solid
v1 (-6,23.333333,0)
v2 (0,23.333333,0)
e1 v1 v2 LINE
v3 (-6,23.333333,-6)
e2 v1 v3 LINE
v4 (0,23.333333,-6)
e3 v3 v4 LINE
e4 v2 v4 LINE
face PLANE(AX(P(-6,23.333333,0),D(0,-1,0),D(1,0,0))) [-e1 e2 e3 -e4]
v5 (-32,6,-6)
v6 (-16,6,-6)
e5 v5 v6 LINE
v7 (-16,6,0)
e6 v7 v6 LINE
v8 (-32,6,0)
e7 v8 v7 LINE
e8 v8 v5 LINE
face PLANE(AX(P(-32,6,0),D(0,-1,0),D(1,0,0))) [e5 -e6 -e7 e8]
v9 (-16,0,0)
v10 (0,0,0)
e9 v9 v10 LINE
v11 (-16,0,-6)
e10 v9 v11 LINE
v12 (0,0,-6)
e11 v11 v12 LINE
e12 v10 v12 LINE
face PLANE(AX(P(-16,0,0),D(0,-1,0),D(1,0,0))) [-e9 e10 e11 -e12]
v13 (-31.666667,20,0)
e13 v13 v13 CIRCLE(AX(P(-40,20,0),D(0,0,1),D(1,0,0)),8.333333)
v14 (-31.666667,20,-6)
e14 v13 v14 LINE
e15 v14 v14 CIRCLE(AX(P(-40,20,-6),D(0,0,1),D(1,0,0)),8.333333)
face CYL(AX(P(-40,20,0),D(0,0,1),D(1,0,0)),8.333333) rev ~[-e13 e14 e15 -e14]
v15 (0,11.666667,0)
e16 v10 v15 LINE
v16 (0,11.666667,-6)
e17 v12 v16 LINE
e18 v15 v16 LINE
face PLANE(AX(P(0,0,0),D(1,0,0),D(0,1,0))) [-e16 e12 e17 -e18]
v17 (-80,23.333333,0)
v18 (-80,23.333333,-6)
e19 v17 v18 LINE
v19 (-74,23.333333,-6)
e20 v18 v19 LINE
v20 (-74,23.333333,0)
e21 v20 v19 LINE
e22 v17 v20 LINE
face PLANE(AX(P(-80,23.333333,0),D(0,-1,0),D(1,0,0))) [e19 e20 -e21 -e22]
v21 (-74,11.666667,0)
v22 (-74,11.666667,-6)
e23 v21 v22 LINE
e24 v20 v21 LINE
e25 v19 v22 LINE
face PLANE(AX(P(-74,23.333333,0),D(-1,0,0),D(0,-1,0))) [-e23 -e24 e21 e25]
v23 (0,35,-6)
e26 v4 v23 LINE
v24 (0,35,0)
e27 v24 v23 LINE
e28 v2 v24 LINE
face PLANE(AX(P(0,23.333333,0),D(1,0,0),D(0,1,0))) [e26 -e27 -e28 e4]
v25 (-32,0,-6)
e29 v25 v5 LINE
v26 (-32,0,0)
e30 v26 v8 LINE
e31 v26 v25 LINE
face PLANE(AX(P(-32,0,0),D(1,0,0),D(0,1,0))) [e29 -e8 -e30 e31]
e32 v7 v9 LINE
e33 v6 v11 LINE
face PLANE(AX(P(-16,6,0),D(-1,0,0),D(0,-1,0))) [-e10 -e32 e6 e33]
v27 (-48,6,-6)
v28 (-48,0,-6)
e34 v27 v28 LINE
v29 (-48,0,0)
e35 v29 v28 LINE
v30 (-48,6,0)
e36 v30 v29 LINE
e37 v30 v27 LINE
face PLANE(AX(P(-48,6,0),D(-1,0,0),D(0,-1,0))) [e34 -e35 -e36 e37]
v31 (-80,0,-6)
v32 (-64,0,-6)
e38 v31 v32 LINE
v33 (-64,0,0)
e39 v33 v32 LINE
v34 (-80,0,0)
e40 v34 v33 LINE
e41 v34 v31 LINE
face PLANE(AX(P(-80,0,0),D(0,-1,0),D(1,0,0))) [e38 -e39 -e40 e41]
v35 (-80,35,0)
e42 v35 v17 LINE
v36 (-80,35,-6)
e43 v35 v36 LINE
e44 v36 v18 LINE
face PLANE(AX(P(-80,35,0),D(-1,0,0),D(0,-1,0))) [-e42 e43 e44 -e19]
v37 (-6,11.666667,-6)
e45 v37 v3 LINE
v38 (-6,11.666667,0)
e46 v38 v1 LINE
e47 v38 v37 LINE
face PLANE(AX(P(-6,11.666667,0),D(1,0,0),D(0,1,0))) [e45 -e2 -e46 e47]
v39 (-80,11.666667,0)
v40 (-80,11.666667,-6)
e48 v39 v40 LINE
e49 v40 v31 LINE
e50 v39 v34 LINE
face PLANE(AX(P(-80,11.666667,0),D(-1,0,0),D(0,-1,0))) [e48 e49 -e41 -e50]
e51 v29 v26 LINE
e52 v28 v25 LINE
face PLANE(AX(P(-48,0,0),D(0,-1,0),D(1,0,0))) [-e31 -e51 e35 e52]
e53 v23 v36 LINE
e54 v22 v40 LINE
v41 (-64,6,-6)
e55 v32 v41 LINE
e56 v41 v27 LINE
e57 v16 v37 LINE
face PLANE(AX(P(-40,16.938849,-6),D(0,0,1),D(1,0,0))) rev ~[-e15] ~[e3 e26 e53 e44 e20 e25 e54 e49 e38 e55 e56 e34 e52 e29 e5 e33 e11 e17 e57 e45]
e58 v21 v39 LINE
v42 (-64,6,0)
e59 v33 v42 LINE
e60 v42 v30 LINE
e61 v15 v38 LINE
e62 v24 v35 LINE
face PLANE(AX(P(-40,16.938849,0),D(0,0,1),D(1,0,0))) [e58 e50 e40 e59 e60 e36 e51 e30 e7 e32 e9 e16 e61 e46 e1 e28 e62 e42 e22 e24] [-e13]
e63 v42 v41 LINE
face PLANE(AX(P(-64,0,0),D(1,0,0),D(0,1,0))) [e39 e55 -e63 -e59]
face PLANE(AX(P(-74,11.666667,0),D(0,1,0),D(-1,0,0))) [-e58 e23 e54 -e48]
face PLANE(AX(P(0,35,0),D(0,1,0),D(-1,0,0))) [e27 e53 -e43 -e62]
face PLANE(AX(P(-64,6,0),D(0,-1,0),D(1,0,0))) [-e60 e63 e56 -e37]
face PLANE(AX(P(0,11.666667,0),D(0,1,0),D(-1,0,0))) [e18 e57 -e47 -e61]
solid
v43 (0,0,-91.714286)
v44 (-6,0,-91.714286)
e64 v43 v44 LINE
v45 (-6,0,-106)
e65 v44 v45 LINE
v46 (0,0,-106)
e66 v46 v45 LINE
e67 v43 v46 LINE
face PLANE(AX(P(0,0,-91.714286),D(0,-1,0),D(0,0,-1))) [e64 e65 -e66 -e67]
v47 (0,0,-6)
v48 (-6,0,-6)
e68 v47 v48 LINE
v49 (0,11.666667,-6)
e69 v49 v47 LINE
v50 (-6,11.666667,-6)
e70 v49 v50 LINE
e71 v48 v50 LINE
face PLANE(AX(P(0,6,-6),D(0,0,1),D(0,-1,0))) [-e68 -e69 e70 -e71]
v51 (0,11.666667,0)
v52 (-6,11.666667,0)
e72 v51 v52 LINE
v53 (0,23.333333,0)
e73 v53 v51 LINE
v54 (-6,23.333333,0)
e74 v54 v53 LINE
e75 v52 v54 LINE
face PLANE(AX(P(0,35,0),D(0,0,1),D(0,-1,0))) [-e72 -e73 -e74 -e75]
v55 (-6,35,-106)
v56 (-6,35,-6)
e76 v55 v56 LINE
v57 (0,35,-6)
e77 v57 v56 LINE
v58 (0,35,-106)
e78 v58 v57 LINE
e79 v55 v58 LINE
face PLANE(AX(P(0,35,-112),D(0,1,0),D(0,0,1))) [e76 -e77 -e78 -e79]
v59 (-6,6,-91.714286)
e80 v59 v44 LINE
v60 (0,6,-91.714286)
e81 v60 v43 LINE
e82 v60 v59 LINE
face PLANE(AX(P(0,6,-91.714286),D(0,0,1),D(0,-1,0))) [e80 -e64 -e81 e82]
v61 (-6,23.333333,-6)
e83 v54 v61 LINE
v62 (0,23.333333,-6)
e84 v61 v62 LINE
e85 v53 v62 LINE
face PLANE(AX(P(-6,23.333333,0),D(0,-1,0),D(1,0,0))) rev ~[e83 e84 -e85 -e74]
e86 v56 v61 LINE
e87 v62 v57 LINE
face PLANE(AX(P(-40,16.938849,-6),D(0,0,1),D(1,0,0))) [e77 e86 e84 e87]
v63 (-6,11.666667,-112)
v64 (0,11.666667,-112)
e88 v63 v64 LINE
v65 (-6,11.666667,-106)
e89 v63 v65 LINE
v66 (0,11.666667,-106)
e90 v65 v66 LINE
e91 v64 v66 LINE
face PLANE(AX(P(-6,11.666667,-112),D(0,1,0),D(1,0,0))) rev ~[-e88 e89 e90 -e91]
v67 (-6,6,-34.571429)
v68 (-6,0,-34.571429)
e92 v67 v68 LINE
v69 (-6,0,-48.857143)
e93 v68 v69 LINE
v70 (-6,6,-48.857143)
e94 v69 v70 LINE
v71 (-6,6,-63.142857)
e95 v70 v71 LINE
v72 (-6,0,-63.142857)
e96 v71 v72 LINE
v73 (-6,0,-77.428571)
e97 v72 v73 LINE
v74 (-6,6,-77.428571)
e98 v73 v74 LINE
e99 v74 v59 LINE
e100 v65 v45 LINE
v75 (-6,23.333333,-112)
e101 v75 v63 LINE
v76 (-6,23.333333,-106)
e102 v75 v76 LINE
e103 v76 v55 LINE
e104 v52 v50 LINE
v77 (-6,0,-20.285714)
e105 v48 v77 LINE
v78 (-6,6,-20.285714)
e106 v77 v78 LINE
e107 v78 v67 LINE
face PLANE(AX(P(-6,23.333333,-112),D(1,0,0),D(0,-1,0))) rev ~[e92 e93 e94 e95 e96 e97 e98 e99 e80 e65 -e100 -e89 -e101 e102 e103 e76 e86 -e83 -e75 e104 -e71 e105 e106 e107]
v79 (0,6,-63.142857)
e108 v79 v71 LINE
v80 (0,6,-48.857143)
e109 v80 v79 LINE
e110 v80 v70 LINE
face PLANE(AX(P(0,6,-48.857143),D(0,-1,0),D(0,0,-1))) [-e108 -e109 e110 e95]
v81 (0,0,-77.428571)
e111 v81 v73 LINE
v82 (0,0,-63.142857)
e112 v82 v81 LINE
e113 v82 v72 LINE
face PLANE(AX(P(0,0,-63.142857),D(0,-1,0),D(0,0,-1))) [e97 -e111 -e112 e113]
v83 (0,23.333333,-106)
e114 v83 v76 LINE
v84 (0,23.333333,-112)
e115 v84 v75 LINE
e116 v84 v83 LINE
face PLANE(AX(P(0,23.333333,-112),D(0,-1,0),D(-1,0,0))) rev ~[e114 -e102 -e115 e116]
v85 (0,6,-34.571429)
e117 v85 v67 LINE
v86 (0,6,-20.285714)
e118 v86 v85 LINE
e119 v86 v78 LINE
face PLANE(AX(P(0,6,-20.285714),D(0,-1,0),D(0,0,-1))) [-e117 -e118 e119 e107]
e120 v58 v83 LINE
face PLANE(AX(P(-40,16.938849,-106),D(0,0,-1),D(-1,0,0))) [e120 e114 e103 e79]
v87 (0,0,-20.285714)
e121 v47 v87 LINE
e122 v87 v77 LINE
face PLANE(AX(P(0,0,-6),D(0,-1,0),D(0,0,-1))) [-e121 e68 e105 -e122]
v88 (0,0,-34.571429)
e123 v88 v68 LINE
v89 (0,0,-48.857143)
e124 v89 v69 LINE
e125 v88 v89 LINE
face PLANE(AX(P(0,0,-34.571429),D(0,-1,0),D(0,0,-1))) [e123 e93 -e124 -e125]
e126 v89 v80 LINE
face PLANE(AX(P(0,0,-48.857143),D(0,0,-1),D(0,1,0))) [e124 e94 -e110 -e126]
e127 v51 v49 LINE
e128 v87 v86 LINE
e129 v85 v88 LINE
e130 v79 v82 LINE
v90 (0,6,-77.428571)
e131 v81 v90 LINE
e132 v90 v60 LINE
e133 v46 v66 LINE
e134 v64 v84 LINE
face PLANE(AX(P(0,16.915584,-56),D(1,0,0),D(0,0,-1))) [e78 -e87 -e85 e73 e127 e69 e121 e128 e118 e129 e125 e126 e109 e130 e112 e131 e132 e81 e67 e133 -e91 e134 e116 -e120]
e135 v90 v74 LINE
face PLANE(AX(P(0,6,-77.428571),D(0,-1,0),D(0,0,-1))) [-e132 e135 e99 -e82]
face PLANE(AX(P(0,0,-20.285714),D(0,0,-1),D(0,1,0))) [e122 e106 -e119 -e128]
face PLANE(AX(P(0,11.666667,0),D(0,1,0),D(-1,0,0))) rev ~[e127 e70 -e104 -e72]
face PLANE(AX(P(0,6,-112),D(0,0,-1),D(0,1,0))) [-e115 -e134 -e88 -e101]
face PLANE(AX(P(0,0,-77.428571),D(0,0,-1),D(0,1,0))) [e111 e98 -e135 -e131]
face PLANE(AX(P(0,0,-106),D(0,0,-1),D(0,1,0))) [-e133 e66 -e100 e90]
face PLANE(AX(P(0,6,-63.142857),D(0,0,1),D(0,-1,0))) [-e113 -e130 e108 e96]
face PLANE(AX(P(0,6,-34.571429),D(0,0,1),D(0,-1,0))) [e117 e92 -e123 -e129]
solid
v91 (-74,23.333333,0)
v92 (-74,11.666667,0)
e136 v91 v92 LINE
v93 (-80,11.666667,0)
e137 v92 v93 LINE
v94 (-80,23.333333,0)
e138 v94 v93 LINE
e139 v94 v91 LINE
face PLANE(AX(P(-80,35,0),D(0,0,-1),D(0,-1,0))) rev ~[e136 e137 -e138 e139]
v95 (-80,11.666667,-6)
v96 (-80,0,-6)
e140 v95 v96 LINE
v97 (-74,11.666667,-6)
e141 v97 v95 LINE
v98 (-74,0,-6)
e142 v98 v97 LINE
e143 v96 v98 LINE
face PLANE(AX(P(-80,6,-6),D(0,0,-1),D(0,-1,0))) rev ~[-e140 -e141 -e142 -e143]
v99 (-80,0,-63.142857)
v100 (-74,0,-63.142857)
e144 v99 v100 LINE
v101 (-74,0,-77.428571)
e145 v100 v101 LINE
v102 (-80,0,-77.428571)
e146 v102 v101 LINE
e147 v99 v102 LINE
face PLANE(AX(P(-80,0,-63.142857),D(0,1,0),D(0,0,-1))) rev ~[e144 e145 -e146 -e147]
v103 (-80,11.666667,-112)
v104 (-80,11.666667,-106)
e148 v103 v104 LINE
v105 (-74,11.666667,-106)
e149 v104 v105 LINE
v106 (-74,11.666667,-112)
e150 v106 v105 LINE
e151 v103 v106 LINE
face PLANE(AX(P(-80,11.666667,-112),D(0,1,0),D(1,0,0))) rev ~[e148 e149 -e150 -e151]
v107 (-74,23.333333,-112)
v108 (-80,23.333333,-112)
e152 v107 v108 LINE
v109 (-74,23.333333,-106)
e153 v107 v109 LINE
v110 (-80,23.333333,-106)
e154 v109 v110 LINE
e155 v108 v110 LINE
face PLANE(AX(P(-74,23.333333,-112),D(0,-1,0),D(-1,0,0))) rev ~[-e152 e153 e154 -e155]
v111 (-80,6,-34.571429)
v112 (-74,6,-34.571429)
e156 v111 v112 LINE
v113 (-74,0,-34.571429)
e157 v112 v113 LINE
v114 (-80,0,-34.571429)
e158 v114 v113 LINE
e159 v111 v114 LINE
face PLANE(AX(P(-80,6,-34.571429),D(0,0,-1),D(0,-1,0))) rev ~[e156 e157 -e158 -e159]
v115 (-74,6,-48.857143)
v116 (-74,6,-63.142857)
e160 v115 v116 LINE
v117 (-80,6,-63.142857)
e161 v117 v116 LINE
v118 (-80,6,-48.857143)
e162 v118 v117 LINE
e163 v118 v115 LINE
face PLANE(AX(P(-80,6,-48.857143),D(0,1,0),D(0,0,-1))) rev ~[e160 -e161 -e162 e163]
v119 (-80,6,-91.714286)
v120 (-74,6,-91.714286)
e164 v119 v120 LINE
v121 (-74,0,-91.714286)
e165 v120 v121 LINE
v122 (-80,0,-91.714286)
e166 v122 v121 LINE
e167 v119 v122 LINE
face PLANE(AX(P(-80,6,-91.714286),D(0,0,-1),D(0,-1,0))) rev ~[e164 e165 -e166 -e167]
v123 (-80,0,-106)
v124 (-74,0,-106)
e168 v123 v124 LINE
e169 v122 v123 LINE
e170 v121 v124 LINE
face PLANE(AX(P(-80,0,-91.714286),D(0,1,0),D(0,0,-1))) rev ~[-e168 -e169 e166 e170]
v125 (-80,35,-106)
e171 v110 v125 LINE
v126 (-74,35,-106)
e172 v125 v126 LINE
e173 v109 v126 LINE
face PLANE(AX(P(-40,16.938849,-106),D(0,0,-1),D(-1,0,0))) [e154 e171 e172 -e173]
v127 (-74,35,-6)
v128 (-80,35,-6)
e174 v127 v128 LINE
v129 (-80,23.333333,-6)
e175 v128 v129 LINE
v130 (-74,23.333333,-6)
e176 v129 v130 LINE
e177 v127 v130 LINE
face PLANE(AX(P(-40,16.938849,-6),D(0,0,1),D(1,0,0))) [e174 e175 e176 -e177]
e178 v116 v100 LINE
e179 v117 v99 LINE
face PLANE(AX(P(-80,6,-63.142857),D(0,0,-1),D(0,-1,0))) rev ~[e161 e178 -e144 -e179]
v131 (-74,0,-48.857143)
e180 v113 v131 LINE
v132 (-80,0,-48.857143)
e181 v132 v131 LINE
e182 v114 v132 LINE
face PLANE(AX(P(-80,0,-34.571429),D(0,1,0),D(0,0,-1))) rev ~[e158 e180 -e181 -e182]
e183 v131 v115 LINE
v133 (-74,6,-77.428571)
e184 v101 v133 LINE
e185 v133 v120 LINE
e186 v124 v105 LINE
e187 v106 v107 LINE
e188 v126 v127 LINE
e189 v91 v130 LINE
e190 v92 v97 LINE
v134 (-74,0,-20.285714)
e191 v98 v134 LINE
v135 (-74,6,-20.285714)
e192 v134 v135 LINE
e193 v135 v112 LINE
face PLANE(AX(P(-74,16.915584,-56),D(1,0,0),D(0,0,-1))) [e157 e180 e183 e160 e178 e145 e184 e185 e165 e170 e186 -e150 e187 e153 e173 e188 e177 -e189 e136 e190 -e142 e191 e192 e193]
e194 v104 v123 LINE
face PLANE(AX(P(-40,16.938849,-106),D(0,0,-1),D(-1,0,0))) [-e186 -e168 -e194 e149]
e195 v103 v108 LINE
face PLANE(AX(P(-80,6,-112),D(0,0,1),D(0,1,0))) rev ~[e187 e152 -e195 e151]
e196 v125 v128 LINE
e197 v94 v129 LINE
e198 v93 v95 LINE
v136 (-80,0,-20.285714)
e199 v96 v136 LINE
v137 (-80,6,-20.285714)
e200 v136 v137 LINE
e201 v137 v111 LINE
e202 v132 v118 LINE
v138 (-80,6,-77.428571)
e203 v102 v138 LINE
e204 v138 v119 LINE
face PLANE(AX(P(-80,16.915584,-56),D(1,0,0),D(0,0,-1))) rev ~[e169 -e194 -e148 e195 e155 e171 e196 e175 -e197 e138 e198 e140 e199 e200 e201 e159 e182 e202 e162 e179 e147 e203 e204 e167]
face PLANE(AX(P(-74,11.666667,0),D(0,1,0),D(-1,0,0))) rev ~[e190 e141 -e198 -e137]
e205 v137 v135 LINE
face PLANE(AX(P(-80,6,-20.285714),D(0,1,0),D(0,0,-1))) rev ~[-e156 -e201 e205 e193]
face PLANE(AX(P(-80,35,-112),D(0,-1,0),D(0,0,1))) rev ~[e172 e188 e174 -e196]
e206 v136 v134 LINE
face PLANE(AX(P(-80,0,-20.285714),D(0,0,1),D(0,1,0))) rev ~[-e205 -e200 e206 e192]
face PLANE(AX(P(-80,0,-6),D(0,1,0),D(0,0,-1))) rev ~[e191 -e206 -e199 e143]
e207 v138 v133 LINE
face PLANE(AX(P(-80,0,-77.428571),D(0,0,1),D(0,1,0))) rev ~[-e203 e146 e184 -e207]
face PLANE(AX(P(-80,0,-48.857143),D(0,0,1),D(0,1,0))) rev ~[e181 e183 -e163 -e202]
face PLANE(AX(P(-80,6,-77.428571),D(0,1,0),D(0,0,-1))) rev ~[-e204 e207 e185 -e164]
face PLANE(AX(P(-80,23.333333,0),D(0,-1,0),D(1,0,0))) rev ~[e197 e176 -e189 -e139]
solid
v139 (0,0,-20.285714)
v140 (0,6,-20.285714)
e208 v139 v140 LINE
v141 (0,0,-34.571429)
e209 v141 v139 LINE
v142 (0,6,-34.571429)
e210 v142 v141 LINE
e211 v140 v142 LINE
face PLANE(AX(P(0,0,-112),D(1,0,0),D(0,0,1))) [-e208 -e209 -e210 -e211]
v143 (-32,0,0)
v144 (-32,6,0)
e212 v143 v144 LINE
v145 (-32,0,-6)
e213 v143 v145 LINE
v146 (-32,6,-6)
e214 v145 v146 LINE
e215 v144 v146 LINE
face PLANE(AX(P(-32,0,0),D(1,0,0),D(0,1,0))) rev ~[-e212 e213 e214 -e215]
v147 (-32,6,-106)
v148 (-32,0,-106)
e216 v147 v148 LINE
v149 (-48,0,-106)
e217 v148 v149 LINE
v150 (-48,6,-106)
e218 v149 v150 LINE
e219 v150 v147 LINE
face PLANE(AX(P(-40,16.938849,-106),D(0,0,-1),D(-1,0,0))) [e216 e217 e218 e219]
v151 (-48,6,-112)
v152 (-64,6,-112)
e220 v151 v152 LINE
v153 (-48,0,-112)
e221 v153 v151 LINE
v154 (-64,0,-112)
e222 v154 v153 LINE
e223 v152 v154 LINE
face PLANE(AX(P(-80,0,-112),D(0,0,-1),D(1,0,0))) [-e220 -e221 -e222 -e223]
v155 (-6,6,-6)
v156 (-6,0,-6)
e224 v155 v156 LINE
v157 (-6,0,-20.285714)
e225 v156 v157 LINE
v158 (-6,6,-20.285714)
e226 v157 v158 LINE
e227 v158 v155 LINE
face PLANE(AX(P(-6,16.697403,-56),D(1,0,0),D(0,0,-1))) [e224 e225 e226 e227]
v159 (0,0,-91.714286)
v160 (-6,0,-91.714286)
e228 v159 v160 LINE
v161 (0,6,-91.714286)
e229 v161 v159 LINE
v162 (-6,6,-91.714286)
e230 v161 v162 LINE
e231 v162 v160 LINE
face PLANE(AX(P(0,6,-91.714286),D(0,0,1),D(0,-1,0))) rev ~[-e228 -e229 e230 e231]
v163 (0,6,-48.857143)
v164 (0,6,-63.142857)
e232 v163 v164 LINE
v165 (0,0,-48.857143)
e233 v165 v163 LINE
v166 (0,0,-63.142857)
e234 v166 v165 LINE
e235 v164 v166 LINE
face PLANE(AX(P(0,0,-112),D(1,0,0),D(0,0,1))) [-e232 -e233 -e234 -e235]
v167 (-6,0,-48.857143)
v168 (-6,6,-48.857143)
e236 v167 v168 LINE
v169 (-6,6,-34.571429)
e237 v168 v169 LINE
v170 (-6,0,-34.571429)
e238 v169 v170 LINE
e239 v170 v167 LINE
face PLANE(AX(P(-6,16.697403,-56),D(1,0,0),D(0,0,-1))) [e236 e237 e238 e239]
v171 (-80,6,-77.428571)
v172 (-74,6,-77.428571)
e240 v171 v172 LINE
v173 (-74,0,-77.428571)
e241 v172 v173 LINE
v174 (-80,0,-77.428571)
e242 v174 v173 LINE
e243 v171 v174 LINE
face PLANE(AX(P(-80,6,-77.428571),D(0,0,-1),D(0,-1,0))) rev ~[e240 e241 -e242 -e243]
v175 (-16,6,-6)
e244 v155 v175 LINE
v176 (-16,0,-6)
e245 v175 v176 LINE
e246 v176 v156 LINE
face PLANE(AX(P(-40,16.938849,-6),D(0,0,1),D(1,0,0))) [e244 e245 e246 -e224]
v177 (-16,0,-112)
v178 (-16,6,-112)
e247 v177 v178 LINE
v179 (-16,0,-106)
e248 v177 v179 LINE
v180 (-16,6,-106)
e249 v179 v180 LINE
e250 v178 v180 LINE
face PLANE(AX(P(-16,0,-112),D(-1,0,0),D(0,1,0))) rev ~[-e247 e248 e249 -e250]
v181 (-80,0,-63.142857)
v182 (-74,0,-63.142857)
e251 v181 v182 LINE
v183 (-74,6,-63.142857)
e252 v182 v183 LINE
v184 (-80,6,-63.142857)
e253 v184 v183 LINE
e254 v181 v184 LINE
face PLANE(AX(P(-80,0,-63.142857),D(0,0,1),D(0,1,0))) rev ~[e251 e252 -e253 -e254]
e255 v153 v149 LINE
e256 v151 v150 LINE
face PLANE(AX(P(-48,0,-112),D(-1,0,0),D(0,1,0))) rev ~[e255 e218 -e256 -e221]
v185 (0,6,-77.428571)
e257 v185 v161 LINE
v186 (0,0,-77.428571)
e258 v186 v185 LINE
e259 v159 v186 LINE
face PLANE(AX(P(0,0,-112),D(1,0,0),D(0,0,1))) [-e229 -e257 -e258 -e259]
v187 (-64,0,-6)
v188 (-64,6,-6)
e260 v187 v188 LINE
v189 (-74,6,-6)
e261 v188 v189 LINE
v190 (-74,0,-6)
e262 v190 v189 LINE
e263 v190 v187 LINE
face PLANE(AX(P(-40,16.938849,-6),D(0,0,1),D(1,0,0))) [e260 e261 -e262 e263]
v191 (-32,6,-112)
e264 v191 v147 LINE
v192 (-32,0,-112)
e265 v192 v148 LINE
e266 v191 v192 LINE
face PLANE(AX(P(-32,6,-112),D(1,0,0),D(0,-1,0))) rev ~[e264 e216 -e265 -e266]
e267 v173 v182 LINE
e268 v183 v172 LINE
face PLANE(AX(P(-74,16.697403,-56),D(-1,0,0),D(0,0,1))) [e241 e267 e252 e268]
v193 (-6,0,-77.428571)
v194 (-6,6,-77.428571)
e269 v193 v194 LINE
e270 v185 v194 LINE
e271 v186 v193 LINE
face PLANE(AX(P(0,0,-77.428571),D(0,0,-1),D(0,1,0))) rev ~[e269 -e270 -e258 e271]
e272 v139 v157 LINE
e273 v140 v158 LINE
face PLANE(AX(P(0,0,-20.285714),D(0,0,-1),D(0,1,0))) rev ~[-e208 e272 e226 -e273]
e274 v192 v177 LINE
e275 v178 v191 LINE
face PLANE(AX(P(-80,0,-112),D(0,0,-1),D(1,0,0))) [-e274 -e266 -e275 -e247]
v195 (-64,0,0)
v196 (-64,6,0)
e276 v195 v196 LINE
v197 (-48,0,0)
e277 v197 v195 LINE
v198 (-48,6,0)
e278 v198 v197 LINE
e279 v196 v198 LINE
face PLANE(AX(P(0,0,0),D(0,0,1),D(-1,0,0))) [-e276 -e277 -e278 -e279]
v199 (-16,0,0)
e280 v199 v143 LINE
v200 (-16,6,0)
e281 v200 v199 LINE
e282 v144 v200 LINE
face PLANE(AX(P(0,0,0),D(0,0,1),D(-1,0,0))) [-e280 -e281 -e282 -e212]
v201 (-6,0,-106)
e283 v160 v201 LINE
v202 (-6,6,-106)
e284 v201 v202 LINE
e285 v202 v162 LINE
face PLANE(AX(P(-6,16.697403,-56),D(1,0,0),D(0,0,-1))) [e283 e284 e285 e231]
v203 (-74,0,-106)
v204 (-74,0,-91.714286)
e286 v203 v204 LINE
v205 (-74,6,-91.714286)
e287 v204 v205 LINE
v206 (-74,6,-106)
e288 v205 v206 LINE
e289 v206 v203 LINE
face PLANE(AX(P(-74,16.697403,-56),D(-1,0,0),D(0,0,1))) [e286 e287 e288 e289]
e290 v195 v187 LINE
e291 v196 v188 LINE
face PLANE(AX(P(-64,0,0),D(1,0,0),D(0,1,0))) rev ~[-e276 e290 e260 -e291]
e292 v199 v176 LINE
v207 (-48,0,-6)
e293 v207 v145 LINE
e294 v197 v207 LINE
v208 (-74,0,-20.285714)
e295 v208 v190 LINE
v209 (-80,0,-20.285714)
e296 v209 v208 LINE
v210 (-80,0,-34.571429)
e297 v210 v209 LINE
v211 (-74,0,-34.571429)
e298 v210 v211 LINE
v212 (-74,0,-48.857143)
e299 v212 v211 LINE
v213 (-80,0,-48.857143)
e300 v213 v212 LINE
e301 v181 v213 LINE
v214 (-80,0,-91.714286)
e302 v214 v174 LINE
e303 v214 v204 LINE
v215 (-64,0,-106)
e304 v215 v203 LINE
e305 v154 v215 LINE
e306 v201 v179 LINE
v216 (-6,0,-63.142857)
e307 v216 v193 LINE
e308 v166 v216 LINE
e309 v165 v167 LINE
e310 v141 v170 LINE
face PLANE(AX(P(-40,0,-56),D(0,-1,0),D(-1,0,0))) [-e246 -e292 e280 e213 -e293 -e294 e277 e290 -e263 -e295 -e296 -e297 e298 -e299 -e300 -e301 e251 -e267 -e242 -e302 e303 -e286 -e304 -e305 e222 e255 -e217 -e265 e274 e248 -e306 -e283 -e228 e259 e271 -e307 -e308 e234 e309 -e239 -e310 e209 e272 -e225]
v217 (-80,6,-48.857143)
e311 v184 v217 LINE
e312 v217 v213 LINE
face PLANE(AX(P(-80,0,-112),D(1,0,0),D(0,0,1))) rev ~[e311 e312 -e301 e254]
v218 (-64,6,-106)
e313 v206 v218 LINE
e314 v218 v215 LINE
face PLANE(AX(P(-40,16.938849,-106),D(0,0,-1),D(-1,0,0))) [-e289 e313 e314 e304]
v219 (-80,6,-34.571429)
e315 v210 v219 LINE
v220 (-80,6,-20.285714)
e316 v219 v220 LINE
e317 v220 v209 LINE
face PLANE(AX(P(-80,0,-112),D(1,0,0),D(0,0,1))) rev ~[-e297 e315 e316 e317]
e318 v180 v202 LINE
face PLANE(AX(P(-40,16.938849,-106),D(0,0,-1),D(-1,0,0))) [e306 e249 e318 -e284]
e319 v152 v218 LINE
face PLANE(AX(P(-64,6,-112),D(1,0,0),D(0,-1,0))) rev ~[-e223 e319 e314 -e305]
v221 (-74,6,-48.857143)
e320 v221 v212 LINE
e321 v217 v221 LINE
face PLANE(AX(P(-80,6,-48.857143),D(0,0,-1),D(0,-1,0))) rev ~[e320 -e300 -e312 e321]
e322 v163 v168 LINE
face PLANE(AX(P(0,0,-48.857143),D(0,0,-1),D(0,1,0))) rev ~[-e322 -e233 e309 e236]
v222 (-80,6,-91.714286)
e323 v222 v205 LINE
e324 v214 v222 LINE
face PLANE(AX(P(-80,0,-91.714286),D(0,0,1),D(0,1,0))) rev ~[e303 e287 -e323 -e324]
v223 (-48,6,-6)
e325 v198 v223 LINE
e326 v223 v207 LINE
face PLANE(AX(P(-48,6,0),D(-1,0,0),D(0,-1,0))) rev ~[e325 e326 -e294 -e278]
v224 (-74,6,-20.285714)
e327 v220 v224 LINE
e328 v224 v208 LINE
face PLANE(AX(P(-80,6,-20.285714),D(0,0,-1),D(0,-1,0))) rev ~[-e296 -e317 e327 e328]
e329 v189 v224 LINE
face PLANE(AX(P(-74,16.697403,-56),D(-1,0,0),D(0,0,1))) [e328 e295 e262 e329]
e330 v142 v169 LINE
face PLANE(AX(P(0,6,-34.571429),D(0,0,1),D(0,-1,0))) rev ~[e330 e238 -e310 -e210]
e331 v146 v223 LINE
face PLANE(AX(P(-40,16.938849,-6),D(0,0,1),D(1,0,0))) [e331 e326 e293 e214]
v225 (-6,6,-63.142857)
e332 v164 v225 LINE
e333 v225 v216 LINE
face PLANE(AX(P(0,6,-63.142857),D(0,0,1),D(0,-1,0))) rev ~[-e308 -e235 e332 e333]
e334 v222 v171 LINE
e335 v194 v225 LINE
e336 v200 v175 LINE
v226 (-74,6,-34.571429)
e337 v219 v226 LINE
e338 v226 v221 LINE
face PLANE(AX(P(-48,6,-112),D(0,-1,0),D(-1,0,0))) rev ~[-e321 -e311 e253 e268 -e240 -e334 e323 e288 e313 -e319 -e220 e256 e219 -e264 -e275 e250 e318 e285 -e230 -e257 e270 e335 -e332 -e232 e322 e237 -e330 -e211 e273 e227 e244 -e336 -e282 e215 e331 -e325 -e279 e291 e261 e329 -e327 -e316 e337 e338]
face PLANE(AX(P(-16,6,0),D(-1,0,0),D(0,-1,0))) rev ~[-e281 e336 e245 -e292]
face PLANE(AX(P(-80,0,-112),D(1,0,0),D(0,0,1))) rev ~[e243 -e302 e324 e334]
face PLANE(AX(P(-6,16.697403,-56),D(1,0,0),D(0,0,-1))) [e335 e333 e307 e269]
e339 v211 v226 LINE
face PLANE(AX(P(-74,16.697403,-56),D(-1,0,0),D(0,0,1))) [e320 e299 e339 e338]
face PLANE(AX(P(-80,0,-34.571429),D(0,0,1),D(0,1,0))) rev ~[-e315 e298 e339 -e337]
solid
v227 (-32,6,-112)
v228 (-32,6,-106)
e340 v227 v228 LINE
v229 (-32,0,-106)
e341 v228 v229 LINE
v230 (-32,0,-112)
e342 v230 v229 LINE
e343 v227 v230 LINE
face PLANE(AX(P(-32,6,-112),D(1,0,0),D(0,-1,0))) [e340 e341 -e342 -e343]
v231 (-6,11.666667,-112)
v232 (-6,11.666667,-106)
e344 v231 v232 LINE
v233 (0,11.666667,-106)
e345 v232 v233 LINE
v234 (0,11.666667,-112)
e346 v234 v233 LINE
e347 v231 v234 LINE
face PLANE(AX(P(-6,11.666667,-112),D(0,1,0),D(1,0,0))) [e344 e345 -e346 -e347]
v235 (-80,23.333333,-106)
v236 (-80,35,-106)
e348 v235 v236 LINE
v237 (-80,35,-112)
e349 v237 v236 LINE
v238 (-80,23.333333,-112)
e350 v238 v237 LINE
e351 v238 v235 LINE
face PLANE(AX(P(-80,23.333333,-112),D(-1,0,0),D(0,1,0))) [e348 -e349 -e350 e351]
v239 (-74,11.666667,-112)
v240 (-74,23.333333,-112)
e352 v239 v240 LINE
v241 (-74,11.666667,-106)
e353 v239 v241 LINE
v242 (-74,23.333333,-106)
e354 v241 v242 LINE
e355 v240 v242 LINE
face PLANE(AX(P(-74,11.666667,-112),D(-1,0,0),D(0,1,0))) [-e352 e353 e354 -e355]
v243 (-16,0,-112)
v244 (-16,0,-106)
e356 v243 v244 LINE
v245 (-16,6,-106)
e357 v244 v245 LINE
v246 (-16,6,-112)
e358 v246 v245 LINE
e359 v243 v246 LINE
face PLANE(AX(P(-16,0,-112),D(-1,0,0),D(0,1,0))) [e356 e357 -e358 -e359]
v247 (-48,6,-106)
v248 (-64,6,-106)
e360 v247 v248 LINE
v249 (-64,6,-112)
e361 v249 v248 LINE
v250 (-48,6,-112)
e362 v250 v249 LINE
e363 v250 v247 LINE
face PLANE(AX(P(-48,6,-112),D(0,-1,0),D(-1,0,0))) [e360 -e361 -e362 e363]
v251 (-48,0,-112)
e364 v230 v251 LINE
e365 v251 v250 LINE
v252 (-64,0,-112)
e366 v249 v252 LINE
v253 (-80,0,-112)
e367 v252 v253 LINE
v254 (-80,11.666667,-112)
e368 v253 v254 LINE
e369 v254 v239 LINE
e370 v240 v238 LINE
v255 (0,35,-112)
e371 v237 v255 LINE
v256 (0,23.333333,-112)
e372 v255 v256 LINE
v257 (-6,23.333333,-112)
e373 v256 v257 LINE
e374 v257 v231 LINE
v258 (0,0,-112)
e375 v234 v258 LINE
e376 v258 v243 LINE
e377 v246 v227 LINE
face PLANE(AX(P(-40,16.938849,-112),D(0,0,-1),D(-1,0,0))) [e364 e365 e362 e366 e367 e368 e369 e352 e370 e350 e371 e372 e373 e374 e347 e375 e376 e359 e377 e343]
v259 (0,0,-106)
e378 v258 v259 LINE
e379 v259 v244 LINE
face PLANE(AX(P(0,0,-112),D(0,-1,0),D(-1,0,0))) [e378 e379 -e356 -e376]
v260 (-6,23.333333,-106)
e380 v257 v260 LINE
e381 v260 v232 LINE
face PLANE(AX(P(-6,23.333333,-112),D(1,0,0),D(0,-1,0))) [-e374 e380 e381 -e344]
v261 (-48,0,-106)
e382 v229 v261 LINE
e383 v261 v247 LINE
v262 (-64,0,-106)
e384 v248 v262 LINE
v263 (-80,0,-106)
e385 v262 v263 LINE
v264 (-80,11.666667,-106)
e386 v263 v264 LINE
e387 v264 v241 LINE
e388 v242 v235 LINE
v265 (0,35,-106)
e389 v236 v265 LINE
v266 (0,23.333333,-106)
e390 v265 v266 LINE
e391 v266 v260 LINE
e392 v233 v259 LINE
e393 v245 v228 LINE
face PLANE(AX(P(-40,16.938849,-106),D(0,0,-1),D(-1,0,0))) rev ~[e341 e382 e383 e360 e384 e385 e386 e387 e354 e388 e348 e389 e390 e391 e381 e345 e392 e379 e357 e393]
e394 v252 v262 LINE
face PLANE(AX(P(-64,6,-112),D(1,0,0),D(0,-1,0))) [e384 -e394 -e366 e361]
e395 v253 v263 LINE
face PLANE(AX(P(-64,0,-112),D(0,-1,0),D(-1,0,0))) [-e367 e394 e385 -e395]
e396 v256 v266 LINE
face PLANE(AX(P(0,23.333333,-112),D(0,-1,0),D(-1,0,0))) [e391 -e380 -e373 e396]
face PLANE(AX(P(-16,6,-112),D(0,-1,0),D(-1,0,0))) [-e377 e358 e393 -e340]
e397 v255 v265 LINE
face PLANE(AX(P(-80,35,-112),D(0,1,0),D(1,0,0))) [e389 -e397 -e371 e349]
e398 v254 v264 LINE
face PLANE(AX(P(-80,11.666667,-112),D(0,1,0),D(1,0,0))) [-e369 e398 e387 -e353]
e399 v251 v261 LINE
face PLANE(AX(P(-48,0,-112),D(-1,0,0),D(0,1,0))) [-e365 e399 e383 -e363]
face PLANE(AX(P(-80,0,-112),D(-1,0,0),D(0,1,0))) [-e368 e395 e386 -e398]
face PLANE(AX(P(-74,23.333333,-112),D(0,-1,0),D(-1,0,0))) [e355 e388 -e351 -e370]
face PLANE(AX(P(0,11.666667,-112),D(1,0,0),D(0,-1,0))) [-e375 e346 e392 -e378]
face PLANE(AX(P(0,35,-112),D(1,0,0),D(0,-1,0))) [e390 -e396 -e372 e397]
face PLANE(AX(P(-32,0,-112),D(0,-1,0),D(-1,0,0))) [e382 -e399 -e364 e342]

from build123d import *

# Parameters (mm, degrees)
BOSS_EXTRUDE1_DEPTH = 6
SKETCH2_R           = 8.333333333
BOSS_EXTRUDE2_DEPTH = 6
BOSS_EXTRUDE3_DEPTH = 6
BOSS_EXTRUDE6_DEPTH = 6
BOSS_EXTRUDE8_DEPTH = 6
CUT_EXTRUDE8_DEPTH  = 6
CUT_EXTRUDE9_DEPTH  = 6
CUT_EXTRUDE10_DEPTH = 6
CUT_EXTRUDE11_DEPTH = 6


with BuildPart() as part:
    # Sketch1 → Boss-Extrude1 (new body)
    with BuildSketch(Plane(origin=(0, 0, 0), x_dir=(1, 0, 0), z_dir=(0, 1, 0))):
        Polygon((-80, 112), (0, 112), (0, 0), (-80, 0), (-80, 6), (-80, 24.8), (-80, 43.6), (-80, 62.4), (-80, 81.2), (-80, 100), align=None)
    extrude(amount=BOSS_EXTRUDE1_DEPTH)


with BuildPart() as body_2:
    # Sketch2 → Boss-Extrude2 (new body)
    with BuildSketch(Plane.XY):
        Polygon((-80, 0), (-64, 0), (-64, 6), (-48, 6), (-48, 0), (-32, 0), (-32, 6), (-16, 6), (-16, 0), (0, 0), (0, 11.666666667), (-6, 11.666666667), (-6, 23.333333333), (0, 23.333333333), (0, 35), (-80, 35), (-80, 23.333333333), (-74, 23.333333333), (-74, 11.666666667), (-80, 11.666666667), align=None)
        with Locations((-40, 20)):
            Circle(SKETCH2_R, mode=Mode.SUBTRACT)
    extrude(amount=-BOSS_EXTRUDE2_DEPTH)


with BuildPart() as body_3:
    # Sketch3 → Boss-Extrude3 (new body)
    with BuildSketch(Plane.ZY.offset(80)):
        Polygon((0, 6), (-6, 6), (-6, 0), (-20.285714286, 0), (-20.285714286, 6), (-34.571428571, 6), (-34.571428571, 0), (-48.857142857, 0), (-48.857142857, 6), (-63.142857143, 6), (-63.142857143, 0), (-77.428571429, 0), (-77.428571429, 6), (-91.714285714, 6), (-91.714285714, 0), (-106, 0), (-106, 6), (-112, 6), (-112, 35), (0, 35), align=None)
    extrude(amount=-BOSS_EXTRUDE3_DEPTH)


with BuildPart() as body_4:
    # Sketch9 → Boss-Extrude6 (new body)
    with BuildSketch(Plane(origin=(0, 0, -112), x_dir=(-1, 0, 0), z_dir=(0, 0, -1))):
        Polygon((80, 0), (80, 11.666666667), (74, 11.666666667), (74, 23.333333333), (80, 23.333333333), (80, 35), (0, 35), (0, 23.333333333), (6, 23.333333333), (6, 11.666666667), (0, 11.666666667), (0, 0), (16, 0), (16, 6), (32, 6), (32, 0), (48, 0), (48, 6), (64, 6), (64, 0), align=None)
    extrude(amount=-BOSS_EXTRUDE6_DEPTH)


with BuildPart() as body_5:
    # Sketch17 → Boss-Extrude8 (new body)
    with BuildSketch(Plane(origin=(0, 0, 0), x_dir=(0, 0, -1), z_dir=(1, 0, 0))):
        Polygon((112, 6), (112, 35), (0, 35), (0, 6), (6, 6), (6, 0), (20.285714286, 0), (20.285714286, 6), (34.571428571, 6), (34.571428571, 0), (48.857142857, 0), (48.857142857, 6), (63.142857143, 6), (63.142857143, 0), (77.428571429, 0), (77.428571429, 6), (91.714285714, 6), (91.714285714, 0), (106, 0), (106, 6), align=None)
    extrude(amount=-BOSS_EXTRUDE8_DEPTH)


with BuildPart() as cut_extrude8_tool:
    # Sketch18 → Cut-Extrude8 (new body)
    with BuildSketch(Plane.XY):
        Polygon((-80, 11.666666667), (-80, 0), (-64, 0), (-64, 6), (-48, 6), (-48, 0), (-32, 0), (-32, 6), (-16, 6), (-16, 0), (0, 0), (0, 11.666666667), (-6, 11.666666667), (-6, 23.333333333), (0, 23.333333333), (0, 35), (-80, 35), (-80, 23.333333333), (-74, 23.333333333), (-74, 11.666666667), align=None)
    extrude(amount=-CUT_EXTRUDE8_DEPTH)


with BuildPart() as body_5_1:
    add(body_5.part)

    # Cut-Extrude8: cut by cut_extrude8_tool
    add(cut_extrude8_tool.part, mode=Mode.SUBTRACT)


with BuildPart() as part_1:
    add(part.part)

    # Cut-Extrude8: cut by cut_extrude8_tool
    add(cut_extrude8_tool.part, mode=Mode.SUBTRACT)


with BuildPart() as body_3_1:
    add(body_3.part)

    # Cut-Extrude8: cut by cut_extrude8_tool
    add(cut_extrude8_tool.part, mode=Mode.SUBTRACT)


with BuildPart() as cut_extrude9_tool:
    # Sketch19 → Cut-Extrude9 (new body)
    with BuildSketch(Plane(origin=(0, 0, -112), x_dir=(-1, 0, 0), z_dir=(0, 0, -1))):
        Polygon((64, 0), (80, 0), (80, 11.666666667), (74, 11.666666667), (74, 23.333333333), (80, 23.333333333), (80, 35), (0, 35), (0, 23.333333333), (6, 23.333333333), (6, 11.666666667), (0, 11.666666667), (0, 0), (16, 0), (16, 6), (32, 6), (32, 0), (48, 0), (48, 6), (64, 6), align=None)
    extrude(amount=-CUT_EXTRUDE9_DEPTH)


with BuildPart() as part_2:
    add(part_1.part)

    # Cut-Extrude9: cut by cut_extrude9_tool
    add(cut_extrude9_tool.part, mode=Mode.SUBTRACT)

    # Sketch20 → Cut-Extrude10 (cut)
    with BuildSketch(Plane(origin=(0, 0, 0), x_dir=(0, 0, -1), z_dir=(1, 0, 0))):
        Polygon((106, 11.666666667), (112, 11.666666667), (112, 23.333333333), (106, 23.333333333), (106, 35), (6, 35), (6, 23.333333333), (0, 23.333333333), (0, 11.666666667), (6, 11.666666667), (6, 0), (20.285714286, 0), (20.285714286, 6), (34.571428571, 6), (34.571428571, 0), (48.857142857, 0), (48.857142857, 6), (63.142857143, 6), (63.142857143, 0), (77.428571429, 0), (77.428571429, 6), (91.714285714, 6), (91.714285714, 0), (106, 0), align=None)
    extrude(amount=-CUT_EXTRUDE10_DEPTH, mode=Mode.SUBTRACT)

    # Sketch21 → Cut-Extrude11 (cut)
    with BuildSketch(Plane.ZY.offset(80)):
        Polygon((-112, 23.333333333), (-112, 11.666666667), (-106, 11.666666667), (-106, 0), (-91.714285714, 0), (-91.714285714, 6), (-77.428571429, 6), (-77.428571429, 0), (-63.142857143, 0), (-63.142857143, 6), (-48.857142857, 6), (-48.857142857, 0), (-34.571428571, 0), (-34.571428571, 6), (-20.285714286, 6), (-20.285714286, 0), (-6, 0), (-6, 11.666666667), (0, 11.666666667), (0, 23.333333333), (-6, 23.333333333), (-6, 35), (-106, 35), (-106, 23.333333333), align=None)
    extrude(amount=-CUT_EXTRUDE11_DEPTH, mode=Mode.SUBTRACT)


with BuildPart() as body_5_2:
    add(body_5_1.part)

    # Cut-Extrude9: cut by cut_extrude9_tool
    add(cut_extrude9_tool.part, mode=Mode.SUBTRACT)


with BuildPart() as body_3_2:
    add(body_3_1.part)

    # Cut-Extrude9: cut by cut_extrude9_tool
    add(cut_extrude9_tool.part, mode=Mode.SUBTRACT)


solid = Compound([body_2.part, body_4.part, part_2.part, body_5_2.part, body_3_2.part])
